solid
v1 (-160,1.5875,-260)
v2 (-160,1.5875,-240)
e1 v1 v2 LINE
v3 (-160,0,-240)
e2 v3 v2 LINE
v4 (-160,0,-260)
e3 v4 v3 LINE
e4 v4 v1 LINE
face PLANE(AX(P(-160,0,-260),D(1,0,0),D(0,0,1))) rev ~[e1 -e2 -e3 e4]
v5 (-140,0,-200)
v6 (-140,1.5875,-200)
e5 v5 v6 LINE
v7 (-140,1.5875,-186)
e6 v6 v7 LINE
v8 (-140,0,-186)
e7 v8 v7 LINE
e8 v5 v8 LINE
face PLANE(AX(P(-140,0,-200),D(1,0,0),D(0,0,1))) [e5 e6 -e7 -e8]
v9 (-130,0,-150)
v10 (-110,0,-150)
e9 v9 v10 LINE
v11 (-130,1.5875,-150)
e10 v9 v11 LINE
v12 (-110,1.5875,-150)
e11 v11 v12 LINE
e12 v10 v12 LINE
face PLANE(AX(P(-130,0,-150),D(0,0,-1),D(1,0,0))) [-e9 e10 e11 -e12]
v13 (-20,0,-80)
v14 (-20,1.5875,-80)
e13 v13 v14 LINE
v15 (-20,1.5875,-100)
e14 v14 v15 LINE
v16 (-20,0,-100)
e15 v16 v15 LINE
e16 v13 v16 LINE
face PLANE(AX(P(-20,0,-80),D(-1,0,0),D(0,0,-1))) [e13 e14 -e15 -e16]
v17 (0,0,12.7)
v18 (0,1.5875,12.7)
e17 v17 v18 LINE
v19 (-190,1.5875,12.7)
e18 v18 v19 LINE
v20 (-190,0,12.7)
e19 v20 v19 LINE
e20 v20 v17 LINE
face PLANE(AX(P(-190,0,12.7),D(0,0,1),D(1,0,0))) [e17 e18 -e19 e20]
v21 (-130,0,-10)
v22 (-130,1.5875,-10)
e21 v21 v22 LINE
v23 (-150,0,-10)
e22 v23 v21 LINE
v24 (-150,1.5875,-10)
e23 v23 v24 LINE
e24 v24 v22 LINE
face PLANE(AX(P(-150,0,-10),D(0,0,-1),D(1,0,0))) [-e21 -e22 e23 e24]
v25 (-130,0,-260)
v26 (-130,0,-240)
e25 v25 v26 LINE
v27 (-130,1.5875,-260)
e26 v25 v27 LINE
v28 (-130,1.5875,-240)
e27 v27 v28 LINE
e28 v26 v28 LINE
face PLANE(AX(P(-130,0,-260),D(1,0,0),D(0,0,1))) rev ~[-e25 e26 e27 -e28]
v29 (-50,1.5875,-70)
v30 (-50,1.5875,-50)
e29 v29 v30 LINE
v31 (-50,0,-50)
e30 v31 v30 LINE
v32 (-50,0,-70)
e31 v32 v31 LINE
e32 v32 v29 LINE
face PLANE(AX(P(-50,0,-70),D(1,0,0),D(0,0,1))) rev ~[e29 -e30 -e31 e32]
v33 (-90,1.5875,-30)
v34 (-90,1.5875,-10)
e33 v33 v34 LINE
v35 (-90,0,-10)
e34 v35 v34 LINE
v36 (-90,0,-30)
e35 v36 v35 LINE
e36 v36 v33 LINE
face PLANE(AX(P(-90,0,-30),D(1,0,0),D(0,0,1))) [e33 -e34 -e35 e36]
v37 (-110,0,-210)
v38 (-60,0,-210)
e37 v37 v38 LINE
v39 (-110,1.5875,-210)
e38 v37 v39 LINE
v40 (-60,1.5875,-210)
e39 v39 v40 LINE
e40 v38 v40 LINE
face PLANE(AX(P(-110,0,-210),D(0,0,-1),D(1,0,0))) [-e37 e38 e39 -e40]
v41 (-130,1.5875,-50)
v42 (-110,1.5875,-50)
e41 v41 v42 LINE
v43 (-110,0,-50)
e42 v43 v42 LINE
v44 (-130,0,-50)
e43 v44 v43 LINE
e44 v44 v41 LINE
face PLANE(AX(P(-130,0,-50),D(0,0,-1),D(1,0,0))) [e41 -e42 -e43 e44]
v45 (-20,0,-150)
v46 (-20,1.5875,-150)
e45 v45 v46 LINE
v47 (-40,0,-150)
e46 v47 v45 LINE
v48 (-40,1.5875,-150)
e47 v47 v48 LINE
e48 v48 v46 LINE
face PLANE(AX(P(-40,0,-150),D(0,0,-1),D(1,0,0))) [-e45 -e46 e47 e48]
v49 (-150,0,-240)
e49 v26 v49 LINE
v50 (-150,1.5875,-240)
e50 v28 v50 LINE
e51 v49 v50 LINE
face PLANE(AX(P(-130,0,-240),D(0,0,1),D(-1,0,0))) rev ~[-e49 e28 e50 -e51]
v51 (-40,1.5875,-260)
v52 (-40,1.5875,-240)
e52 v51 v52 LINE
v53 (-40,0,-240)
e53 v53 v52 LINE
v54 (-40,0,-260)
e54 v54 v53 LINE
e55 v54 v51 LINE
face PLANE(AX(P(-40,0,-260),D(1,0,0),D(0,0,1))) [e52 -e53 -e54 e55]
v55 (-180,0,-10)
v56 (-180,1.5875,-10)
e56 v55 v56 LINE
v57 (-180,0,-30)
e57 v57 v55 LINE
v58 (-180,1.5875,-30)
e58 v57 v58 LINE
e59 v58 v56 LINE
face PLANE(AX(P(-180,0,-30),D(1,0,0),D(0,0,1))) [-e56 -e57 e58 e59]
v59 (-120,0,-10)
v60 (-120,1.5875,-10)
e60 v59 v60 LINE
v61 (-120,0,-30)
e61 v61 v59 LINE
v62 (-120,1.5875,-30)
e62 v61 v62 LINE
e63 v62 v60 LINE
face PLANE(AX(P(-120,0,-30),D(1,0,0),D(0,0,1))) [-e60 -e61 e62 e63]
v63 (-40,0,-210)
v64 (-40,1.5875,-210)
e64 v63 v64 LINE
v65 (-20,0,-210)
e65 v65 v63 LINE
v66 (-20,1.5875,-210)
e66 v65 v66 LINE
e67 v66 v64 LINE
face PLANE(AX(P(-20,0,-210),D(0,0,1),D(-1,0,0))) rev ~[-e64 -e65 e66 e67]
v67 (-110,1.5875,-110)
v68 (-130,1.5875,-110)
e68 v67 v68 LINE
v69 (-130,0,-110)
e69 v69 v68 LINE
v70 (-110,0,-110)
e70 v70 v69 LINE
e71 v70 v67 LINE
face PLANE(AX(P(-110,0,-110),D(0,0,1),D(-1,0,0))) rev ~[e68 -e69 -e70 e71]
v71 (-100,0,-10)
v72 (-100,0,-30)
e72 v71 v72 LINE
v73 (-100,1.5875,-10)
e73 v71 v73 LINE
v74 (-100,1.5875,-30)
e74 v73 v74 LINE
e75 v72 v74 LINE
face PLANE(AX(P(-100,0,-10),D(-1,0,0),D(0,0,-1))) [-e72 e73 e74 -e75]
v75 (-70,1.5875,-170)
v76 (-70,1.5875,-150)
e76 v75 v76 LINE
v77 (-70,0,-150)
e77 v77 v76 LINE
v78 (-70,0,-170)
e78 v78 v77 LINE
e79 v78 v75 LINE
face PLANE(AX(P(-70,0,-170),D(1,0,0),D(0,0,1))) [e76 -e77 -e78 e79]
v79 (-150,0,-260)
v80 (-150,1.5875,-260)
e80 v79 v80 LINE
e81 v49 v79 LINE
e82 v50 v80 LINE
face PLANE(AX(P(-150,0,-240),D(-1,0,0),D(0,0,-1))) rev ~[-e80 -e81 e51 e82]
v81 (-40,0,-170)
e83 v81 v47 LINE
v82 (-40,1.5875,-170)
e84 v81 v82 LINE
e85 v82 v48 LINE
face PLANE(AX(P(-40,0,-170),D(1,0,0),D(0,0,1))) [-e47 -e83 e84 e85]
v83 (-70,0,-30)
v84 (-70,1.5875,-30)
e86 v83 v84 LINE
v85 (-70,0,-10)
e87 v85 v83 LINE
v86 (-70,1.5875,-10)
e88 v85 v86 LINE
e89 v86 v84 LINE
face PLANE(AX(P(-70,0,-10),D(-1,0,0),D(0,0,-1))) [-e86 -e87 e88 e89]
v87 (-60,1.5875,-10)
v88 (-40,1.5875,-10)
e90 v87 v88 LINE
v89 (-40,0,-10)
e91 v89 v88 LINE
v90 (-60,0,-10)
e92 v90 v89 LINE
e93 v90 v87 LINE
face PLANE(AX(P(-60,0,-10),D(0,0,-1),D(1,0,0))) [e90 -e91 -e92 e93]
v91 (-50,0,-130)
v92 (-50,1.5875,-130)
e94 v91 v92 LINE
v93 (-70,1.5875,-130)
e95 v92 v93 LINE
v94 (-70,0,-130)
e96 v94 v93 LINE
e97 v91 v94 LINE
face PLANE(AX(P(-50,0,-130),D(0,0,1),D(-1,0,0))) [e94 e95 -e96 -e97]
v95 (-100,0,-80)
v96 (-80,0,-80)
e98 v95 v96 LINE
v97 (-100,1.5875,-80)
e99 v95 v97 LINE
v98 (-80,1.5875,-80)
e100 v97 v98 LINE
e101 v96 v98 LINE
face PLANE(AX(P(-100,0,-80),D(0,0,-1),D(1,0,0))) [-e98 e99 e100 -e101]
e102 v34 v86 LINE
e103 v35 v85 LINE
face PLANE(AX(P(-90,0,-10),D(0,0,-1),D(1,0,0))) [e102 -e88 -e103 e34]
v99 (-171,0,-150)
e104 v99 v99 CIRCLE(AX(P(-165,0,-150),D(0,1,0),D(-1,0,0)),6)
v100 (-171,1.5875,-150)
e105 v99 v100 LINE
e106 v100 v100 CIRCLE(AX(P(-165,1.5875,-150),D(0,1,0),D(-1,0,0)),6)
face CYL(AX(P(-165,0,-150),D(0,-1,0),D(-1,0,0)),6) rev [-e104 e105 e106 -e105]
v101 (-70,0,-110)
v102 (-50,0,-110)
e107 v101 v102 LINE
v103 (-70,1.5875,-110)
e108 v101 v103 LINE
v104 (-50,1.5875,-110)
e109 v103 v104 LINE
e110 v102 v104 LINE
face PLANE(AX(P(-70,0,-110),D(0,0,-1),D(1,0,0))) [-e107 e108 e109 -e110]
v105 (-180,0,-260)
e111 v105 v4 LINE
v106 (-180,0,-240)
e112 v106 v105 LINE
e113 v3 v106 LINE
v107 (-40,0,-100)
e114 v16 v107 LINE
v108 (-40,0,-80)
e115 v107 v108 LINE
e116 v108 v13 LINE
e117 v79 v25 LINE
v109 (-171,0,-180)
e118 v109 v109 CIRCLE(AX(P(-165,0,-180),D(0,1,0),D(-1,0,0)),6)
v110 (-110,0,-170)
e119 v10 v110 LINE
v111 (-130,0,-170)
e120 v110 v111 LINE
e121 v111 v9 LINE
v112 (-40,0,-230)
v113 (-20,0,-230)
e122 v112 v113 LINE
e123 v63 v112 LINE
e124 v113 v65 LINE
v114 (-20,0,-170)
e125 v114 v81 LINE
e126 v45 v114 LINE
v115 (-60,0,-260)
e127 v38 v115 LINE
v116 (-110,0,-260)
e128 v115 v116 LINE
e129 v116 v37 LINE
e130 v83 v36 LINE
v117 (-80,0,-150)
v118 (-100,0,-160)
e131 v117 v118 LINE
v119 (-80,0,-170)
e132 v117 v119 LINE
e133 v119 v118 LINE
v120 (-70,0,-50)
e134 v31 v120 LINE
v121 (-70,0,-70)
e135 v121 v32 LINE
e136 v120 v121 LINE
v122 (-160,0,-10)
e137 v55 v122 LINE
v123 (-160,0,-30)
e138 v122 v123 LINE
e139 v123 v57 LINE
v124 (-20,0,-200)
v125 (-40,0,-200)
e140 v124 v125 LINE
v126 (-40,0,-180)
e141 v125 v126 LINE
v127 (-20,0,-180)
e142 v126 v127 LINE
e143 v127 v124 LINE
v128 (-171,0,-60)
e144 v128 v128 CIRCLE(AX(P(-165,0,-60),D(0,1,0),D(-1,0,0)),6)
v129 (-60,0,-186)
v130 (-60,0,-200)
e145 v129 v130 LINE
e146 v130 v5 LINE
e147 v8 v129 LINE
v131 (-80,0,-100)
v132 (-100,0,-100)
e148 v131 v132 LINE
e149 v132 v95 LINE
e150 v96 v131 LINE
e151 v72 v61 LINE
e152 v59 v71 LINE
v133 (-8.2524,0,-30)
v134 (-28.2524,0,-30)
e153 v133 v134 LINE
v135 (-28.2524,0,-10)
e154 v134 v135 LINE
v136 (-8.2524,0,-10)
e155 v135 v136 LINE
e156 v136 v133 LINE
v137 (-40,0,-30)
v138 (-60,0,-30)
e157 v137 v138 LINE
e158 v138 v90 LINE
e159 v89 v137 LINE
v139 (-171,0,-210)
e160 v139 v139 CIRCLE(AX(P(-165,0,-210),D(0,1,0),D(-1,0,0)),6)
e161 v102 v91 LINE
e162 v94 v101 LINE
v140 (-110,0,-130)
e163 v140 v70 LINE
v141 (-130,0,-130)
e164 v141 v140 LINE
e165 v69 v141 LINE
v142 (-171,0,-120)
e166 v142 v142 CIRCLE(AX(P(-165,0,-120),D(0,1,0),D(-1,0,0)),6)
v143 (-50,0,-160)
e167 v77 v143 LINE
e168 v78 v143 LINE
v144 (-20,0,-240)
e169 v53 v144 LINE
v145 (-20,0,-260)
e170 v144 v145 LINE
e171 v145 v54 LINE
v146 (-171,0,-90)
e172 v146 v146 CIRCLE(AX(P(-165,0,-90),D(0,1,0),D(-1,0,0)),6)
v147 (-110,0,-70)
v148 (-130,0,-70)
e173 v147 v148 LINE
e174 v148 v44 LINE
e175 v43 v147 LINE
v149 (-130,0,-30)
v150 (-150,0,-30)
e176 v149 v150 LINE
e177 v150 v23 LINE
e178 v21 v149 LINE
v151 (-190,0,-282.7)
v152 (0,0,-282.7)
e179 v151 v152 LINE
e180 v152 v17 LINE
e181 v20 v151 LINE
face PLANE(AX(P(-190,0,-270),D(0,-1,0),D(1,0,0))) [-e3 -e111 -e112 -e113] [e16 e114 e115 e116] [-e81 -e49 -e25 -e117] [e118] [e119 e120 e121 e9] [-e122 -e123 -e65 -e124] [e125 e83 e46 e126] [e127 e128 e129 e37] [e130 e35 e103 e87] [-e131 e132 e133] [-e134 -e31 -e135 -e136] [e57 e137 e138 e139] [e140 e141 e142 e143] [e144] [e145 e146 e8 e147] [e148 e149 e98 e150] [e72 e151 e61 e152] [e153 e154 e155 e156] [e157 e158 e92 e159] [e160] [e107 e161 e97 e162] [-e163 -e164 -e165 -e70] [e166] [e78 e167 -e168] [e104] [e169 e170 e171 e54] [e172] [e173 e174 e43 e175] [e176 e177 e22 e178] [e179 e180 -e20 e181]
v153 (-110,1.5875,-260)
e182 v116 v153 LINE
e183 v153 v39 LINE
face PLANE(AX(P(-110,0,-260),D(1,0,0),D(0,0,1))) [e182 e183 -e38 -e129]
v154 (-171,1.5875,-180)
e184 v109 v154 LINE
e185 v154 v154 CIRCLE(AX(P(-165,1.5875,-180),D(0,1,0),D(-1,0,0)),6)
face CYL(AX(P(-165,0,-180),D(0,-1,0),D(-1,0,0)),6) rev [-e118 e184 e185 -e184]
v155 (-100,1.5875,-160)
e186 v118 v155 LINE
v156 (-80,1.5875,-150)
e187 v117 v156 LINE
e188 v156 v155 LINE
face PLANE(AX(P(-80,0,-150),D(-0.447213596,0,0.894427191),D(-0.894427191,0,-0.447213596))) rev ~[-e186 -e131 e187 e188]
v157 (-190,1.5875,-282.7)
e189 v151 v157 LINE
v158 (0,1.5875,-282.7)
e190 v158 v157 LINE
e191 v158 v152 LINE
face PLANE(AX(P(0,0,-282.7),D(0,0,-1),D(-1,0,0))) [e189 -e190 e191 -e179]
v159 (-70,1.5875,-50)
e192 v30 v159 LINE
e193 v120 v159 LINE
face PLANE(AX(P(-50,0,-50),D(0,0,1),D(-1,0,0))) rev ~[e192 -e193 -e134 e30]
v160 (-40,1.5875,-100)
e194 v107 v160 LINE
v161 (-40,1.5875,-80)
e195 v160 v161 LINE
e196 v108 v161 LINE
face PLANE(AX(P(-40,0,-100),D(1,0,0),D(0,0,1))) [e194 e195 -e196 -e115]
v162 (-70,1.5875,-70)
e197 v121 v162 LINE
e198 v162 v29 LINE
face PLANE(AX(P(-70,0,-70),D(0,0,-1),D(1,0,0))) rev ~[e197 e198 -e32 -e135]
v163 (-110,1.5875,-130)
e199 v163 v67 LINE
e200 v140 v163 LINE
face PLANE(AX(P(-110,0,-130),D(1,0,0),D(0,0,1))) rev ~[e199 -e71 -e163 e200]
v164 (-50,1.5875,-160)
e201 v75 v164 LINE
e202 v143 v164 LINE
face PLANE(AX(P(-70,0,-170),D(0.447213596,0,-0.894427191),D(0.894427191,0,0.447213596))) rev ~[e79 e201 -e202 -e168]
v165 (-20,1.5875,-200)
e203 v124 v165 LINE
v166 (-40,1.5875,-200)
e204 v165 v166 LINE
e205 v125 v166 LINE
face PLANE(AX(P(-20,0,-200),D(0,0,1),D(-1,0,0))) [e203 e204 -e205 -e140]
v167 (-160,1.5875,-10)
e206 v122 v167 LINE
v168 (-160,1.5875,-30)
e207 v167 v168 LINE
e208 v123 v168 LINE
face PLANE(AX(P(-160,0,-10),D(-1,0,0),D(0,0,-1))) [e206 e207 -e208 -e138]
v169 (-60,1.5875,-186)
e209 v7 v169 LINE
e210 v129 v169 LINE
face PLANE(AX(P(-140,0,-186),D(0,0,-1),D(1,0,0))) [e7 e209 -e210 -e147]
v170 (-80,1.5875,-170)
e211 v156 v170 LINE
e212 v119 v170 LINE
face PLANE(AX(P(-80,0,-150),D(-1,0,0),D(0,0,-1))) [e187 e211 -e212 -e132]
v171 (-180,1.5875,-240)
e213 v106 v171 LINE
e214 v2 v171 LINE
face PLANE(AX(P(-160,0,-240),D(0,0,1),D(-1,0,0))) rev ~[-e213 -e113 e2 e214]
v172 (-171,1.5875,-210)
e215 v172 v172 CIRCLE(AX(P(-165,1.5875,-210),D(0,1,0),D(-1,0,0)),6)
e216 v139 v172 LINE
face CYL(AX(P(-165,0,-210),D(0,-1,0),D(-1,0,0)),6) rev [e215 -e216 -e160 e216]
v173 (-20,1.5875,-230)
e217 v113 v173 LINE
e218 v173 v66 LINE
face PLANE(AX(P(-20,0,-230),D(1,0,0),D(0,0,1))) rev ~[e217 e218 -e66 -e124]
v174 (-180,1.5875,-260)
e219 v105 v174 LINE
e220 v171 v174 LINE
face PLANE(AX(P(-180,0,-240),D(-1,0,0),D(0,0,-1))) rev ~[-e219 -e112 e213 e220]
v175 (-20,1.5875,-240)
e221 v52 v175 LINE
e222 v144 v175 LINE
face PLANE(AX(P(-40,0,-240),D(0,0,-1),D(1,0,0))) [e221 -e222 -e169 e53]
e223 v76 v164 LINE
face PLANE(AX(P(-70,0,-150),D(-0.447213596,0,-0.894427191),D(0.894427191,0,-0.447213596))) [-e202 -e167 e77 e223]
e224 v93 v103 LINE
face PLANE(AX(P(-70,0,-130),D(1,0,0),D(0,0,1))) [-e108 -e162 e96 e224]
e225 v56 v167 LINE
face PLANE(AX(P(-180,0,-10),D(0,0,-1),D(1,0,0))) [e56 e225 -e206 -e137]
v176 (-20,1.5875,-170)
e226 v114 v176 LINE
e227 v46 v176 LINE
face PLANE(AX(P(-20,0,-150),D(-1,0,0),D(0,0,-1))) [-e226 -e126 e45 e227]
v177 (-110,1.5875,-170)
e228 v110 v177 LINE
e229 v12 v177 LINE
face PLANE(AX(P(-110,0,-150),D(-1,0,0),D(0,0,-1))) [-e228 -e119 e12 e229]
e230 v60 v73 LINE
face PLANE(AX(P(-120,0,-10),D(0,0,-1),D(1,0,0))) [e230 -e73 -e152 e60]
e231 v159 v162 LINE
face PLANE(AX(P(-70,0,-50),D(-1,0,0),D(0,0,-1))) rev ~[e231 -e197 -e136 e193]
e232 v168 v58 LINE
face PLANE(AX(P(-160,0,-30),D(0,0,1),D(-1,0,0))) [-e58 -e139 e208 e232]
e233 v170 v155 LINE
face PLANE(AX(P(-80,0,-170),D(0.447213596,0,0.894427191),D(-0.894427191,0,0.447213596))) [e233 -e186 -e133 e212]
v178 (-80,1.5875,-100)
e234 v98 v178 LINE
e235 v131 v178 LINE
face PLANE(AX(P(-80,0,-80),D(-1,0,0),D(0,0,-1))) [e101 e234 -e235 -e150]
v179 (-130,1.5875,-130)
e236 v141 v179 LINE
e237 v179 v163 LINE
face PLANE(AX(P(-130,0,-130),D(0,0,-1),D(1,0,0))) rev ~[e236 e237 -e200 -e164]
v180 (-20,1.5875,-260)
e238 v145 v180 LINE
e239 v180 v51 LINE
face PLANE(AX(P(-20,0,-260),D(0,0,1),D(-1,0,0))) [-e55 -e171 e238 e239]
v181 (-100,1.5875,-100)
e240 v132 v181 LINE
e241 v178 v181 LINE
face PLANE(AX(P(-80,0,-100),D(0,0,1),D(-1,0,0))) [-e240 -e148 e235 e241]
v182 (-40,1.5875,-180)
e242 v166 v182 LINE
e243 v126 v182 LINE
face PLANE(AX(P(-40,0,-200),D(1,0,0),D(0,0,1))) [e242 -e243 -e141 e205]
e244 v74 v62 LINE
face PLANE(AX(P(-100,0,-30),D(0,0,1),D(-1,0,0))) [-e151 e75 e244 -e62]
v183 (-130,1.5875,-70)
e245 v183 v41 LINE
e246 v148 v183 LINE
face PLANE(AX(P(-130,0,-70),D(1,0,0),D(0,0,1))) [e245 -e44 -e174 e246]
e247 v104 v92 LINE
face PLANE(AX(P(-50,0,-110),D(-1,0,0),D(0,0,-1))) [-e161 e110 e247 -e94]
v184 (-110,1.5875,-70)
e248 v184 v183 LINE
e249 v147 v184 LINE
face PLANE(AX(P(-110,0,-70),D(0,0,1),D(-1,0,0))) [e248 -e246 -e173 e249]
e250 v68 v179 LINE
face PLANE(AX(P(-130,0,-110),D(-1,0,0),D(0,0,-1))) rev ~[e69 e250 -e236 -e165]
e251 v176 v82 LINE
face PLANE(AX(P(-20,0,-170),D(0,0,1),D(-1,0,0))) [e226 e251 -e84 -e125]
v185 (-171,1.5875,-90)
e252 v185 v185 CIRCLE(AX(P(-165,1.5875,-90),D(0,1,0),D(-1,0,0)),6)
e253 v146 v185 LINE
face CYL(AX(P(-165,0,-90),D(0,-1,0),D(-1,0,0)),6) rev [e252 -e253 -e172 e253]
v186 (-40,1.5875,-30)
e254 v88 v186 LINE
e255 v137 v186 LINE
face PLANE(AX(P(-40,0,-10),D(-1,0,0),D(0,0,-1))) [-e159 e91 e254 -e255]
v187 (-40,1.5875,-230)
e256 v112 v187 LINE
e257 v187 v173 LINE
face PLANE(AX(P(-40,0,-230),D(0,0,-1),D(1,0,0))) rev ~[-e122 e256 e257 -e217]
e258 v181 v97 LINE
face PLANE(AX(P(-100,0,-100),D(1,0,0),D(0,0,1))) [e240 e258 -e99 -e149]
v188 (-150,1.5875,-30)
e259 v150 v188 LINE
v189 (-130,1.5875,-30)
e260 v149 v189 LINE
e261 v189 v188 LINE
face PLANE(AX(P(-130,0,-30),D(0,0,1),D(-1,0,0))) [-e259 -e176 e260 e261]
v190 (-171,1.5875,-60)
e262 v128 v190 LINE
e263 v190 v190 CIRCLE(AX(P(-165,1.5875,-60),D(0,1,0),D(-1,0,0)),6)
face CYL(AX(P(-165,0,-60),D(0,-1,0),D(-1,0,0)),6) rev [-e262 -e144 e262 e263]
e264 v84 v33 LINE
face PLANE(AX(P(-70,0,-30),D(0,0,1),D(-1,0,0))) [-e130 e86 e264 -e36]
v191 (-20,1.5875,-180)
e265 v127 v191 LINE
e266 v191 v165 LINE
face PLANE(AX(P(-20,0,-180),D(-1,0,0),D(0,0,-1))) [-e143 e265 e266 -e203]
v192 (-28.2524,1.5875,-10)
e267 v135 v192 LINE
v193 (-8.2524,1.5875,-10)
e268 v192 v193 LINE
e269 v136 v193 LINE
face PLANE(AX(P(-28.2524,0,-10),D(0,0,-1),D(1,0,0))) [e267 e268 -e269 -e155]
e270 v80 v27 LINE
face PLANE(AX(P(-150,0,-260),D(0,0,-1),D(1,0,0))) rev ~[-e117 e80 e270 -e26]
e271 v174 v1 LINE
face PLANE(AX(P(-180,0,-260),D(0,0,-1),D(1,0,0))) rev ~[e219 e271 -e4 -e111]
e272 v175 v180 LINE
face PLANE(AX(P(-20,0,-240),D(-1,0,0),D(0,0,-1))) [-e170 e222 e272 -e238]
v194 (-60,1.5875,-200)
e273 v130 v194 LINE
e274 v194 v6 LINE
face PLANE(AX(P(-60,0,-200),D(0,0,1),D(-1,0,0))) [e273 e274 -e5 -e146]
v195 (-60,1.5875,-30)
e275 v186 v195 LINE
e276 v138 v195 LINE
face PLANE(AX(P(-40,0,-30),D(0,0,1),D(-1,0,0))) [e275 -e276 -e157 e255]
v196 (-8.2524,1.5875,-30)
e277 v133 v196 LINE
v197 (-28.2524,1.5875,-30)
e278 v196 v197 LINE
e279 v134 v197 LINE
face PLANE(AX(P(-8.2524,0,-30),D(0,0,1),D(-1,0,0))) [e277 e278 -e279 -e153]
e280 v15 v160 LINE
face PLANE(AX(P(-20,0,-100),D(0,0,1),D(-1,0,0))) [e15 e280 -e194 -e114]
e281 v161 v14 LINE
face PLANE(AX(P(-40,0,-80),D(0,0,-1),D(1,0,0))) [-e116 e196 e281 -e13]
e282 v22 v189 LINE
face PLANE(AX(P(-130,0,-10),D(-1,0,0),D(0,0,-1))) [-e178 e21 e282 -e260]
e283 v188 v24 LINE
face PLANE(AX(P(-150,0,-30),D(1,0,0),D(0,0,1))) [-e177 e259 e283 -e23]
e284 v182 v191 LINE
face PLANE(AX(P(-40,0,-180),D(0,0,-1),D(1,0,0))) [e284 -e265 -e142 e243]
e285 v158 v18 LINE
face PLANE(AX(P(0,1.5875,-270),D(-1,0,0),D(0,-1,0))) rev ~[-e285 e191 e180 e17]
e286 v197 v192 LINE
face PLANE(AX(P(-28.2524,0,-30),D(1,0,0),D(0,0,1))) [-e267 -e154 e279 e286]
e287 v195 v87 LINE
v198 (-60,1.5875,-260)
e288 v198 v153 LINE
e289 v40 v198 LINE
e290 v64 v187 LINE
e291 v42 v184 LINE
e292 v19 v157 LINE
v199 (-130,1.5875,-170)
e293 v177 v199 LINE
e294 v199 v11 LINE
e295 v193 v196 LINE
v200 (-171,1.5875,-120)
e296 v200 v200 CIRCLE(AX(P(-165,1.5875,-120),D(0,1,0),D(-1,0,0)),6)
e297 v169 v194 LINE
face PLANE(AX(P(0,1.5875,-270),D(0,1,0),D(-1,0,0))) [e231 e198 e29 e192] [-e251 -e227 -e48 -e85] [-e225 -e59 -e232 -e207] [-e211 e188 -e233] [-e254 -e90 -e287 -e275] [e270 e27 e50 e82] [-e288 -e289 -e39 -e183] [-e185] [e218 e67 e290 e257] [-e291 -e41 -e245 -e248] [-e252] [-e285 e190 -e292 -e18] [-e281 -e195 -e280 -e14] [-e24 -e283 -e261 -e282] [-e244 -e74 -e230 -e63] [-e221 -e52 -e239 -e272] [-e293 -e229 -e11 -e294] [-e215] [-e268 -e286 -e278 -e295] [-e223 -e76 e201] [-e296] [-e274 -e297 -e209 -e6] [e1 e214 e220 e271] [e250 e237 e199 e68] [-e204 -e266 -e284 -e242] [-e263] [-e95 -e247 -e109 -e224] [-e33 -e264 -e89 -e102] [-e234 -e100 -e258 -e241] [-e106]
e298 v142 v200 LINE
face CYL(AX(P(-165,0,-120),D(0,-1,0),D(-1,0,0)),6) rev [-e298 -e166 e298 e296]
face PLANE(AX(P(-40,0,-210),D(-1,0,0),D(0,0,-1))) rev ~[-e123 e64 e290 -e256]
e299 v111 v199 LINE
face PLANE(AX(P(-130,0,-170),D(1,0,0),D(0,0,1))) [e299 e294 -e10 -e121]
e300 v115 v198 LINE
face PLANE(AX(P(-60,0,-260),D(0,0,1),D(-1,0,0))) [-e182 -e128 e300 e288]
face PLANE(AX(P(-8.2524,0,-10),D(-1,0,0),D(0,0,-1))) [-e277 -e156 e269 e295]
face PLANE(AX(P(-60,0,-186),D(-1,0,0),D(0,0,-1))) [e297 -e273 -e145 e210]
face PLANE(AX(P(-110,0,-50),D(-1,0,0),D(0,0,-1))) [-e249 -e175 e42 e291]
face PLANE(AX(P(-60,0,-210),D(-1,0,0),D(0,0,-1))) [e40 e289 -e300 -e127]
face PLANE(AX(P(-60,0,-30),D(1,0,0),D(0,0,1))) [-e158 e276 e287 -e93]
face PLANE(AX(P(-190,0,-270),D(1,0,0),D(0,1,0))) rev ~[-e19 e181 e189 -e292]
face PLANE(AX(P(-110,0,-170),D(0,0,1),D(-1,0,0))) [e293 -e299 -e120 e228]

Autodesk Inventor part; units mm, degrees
ref_plane "YZ Plane" through (0, 0, 0) normal (1, 0, 0) x (0, 1, 0)
ref_plane "XZ Plane" through (0, 0, 0) normal (0, 1, 0) x (-1, 0, 0)
ref_plane "XY Plane" through (0, 0, 0) normal (0, 0, 1) x (1, 0, 0)
sketch "Sketch1" plane through (0, 0, 0) normal (0, 1, 0) x (-1, 0, 0)
  line L0 (0, 0) -> (190, 0)
  line L1 (190, 0) -> (190, -270)
  line L2 (190, -270) -> (0, -270)
  line L3 (0, -270) -> (0, 0)
  line L4 (180, -10) -> (160, -10)
  line L5 (160, -10) -> (160, -30)
  line L6 (160, -30) -> (180, -30)
  line L7 (180, -30) -> (180, -10)
  line L8 (150, -10) -> (130, -10)
  line L9 (130, -10) -> (130, -30)
  line L10 (130, -30) -> (150, -30)
  line L11 (150, -30) -> (150, -10)
  line L12 (120, -10) -> (100, -10)
  line L13 (100, -10) -> (100, -30)
  line L14 (100, -30) -> (120, -30)
  line L15 (120, -30) -> (120, -10)
  line L16 (90, -10) -> (70, -10)
  line L17 (70, -10) -> (70, -30)
  line L18 (70, -30) -> (90, -30)
  line L19 (90, -30) -> (90, -10)
  line L20 (60, -10) -> (40, -10)
  line L21 (40, -10) -> (40, -30)
  line L22 (40, -30) -> (60, -30)
  line L23 (60, -30) -> (60, -10)
  line L24 (28.2524, -10) -> (8.2524, -10)
  line L25 (8.2524, -10) -> (8.2524, -30)
  line L26 (8.2524, -30) -> (28.2524, -30)
  line L27 (28.2524, -30) -> (28.2524, -10)
  circle A0 centre (165, -60) radius 6
  circle A1 centre (165, -90) radius 6
  circle A2 centre (165, -120) radius 6
  circle A3 centre (165, -150) radius 6
  circle A4 centre (165, -180) radius 6
  circle A5 centre (165, -210) radius 6
  line L28 (180, -260) -> (160, -260)
  line L29 (160, -260) -> (160, -240)
  line L30 (160, -240) -> (180, -240)
  line L31 (180, -240) -> (180, -260)
  line L32 (150, -260) -> (130, -260)
  line L33 (130, -260) -> (130, -240)
  line L34 (130, -240) -> (150, -240)
  line L35 (150, -240) -> (150, -260)
  line L36 (130, -50) -> (110, -50)
  line L37 (110, -50) -> (110, -70)
  line L38 (110, -70) -> (130, -70)
  line L39 (130, -70) -> (130, -50)
  line L40 (100, -80) -> (80, -80)
  line L41 (80, -80) -> (80, -100)
  line L42 (80, -100) -> (100, -100)
  line L43 (100, -100) -> (100, -80)
  line L44 (70, -70) -> (50, -70)
  line L45 (50, -70) -> (50, -50)
  line L46 (50, -50) -> (70, -50)
  line L47 (70, -50) -> (70, -70)
  line L48 (70, -110) -> (50, -110)
  line L49 (50, -110) -> (50, -130)
  line L50 (50, -130) -> (70, -130)
  line L51 (70, -130) -> (70, -110)
  line L52 (40, -80) -> (20, -80)
  line L53 (20, -80) -> (20, -100)
  line L54 (20, -100) -> (40, -100)
  line L55 (40, -100) -> (40, -80)
  line L56 (110, -110) -> (130, -110)
  line L57 (130, -110) -> (130, -130)
  line L58 (130, -130) -> (110, -130)
  line L59 (110, -130) -> (110, -110)
  line L60 (20, -260) -> (40, -260)
  line L61 (40, -260) -> (40, -240)
  line L62 (40, -240) -> (20, -240)
  line L63 (20, -240) -> (20, -260)
  line L64 (40, -230) -> (20, -230)
  line L65 (20, -230) -> (20, -210)
  line L66 (20, -210) -> (40, -210)
  line L67 (40, -210) -> (40, -230)
  line L68 (20, -200) -> (40, -200)
  line L69 (40, -200) -> (40, -180)
  line L70 (40, -180) -> (20, -180)
  line L71 (20, -180) -> (20, -200)
  line L72 (20, -170) -> (40, -170)
  line L73 (40, -170) -> (40, -150)
  line L74 (40, -150) -> (20, -150)
  line L75 (20, -150) -> (20, -170)
  line L76 (60, -260) -> (110, -260)
  line L77 (110, -260) -> (110, -210)
  line L78 (110, -210) -> (60, -210)
  line L79 (60, -210) -> (60, -260)
  line L80 (60, -200) -> (140, -200)
  line L81 (140, -200) -> (140, -186)
  line L82 (140, -186) -> (60, -186)
  line L83 (60, -186) -> (60, -200)
  line L84 (70, -170) -> (70, -150)
  line L85 (80, -150) -> (80, -170)
  line L86 (110, -170) -> (130, -170)
  line L87 (130, -170) -> (130, -150)
  line L88 (130, -150) -> (110, -150)
  line L89 (110, -150) -> (110, -170)
  line L90 (70, -150) -> (50, -160)
  line L91 (70, -170) -> (50, -160)
  line L92 (80, -150) -> (100, -160)
  line L93 (80, -170) -> (100, -160)
extrude "Extrusion1" add sketch "Sketch1" along normal blind 1.5875
sketch "Sketch2" plane through (-190, 0, 0) normal (0, 0, 1) x (1, 0, 0)
  line L0 (190, 0) -> (190, 1.5875) projected
  line L1 (0, 0) -> (0, 1.5875) projected
  line L2 (190, 1.5875) -> (0, 1.5875)
  line L3 (0, 1.5875) -> (0, 0)
  line L4 (0, 0) -> (190, 0)
  line L5 (190, 0) -> (190, 1.5875)
extrude "Extrusion2" add sketch "Sketch2" along normal blind 12.7
sketch "Sketch3" plane through (0, 0, -270) normal (0, 0, -1) x (-1, 0, 0)
  line L0 (190, 0) -> (0, 0) projected
  line L1 (0, 1.5875) -> (190, 1.5875) projected
  line L2 (0, 0) -> (190, 0)
  line L3 (190, 0) -> (190, 1.5875)
  line L4 (190, 1.5875) -> (0, 1.5875)
  line L5 (0, 1.5875) -> (0, 0)
  point P0 (0, 1.5875)
extrude "Extrusion3" add sketch "Sketch3" along normal blind 12.7
properties part number "Front Plywood"
